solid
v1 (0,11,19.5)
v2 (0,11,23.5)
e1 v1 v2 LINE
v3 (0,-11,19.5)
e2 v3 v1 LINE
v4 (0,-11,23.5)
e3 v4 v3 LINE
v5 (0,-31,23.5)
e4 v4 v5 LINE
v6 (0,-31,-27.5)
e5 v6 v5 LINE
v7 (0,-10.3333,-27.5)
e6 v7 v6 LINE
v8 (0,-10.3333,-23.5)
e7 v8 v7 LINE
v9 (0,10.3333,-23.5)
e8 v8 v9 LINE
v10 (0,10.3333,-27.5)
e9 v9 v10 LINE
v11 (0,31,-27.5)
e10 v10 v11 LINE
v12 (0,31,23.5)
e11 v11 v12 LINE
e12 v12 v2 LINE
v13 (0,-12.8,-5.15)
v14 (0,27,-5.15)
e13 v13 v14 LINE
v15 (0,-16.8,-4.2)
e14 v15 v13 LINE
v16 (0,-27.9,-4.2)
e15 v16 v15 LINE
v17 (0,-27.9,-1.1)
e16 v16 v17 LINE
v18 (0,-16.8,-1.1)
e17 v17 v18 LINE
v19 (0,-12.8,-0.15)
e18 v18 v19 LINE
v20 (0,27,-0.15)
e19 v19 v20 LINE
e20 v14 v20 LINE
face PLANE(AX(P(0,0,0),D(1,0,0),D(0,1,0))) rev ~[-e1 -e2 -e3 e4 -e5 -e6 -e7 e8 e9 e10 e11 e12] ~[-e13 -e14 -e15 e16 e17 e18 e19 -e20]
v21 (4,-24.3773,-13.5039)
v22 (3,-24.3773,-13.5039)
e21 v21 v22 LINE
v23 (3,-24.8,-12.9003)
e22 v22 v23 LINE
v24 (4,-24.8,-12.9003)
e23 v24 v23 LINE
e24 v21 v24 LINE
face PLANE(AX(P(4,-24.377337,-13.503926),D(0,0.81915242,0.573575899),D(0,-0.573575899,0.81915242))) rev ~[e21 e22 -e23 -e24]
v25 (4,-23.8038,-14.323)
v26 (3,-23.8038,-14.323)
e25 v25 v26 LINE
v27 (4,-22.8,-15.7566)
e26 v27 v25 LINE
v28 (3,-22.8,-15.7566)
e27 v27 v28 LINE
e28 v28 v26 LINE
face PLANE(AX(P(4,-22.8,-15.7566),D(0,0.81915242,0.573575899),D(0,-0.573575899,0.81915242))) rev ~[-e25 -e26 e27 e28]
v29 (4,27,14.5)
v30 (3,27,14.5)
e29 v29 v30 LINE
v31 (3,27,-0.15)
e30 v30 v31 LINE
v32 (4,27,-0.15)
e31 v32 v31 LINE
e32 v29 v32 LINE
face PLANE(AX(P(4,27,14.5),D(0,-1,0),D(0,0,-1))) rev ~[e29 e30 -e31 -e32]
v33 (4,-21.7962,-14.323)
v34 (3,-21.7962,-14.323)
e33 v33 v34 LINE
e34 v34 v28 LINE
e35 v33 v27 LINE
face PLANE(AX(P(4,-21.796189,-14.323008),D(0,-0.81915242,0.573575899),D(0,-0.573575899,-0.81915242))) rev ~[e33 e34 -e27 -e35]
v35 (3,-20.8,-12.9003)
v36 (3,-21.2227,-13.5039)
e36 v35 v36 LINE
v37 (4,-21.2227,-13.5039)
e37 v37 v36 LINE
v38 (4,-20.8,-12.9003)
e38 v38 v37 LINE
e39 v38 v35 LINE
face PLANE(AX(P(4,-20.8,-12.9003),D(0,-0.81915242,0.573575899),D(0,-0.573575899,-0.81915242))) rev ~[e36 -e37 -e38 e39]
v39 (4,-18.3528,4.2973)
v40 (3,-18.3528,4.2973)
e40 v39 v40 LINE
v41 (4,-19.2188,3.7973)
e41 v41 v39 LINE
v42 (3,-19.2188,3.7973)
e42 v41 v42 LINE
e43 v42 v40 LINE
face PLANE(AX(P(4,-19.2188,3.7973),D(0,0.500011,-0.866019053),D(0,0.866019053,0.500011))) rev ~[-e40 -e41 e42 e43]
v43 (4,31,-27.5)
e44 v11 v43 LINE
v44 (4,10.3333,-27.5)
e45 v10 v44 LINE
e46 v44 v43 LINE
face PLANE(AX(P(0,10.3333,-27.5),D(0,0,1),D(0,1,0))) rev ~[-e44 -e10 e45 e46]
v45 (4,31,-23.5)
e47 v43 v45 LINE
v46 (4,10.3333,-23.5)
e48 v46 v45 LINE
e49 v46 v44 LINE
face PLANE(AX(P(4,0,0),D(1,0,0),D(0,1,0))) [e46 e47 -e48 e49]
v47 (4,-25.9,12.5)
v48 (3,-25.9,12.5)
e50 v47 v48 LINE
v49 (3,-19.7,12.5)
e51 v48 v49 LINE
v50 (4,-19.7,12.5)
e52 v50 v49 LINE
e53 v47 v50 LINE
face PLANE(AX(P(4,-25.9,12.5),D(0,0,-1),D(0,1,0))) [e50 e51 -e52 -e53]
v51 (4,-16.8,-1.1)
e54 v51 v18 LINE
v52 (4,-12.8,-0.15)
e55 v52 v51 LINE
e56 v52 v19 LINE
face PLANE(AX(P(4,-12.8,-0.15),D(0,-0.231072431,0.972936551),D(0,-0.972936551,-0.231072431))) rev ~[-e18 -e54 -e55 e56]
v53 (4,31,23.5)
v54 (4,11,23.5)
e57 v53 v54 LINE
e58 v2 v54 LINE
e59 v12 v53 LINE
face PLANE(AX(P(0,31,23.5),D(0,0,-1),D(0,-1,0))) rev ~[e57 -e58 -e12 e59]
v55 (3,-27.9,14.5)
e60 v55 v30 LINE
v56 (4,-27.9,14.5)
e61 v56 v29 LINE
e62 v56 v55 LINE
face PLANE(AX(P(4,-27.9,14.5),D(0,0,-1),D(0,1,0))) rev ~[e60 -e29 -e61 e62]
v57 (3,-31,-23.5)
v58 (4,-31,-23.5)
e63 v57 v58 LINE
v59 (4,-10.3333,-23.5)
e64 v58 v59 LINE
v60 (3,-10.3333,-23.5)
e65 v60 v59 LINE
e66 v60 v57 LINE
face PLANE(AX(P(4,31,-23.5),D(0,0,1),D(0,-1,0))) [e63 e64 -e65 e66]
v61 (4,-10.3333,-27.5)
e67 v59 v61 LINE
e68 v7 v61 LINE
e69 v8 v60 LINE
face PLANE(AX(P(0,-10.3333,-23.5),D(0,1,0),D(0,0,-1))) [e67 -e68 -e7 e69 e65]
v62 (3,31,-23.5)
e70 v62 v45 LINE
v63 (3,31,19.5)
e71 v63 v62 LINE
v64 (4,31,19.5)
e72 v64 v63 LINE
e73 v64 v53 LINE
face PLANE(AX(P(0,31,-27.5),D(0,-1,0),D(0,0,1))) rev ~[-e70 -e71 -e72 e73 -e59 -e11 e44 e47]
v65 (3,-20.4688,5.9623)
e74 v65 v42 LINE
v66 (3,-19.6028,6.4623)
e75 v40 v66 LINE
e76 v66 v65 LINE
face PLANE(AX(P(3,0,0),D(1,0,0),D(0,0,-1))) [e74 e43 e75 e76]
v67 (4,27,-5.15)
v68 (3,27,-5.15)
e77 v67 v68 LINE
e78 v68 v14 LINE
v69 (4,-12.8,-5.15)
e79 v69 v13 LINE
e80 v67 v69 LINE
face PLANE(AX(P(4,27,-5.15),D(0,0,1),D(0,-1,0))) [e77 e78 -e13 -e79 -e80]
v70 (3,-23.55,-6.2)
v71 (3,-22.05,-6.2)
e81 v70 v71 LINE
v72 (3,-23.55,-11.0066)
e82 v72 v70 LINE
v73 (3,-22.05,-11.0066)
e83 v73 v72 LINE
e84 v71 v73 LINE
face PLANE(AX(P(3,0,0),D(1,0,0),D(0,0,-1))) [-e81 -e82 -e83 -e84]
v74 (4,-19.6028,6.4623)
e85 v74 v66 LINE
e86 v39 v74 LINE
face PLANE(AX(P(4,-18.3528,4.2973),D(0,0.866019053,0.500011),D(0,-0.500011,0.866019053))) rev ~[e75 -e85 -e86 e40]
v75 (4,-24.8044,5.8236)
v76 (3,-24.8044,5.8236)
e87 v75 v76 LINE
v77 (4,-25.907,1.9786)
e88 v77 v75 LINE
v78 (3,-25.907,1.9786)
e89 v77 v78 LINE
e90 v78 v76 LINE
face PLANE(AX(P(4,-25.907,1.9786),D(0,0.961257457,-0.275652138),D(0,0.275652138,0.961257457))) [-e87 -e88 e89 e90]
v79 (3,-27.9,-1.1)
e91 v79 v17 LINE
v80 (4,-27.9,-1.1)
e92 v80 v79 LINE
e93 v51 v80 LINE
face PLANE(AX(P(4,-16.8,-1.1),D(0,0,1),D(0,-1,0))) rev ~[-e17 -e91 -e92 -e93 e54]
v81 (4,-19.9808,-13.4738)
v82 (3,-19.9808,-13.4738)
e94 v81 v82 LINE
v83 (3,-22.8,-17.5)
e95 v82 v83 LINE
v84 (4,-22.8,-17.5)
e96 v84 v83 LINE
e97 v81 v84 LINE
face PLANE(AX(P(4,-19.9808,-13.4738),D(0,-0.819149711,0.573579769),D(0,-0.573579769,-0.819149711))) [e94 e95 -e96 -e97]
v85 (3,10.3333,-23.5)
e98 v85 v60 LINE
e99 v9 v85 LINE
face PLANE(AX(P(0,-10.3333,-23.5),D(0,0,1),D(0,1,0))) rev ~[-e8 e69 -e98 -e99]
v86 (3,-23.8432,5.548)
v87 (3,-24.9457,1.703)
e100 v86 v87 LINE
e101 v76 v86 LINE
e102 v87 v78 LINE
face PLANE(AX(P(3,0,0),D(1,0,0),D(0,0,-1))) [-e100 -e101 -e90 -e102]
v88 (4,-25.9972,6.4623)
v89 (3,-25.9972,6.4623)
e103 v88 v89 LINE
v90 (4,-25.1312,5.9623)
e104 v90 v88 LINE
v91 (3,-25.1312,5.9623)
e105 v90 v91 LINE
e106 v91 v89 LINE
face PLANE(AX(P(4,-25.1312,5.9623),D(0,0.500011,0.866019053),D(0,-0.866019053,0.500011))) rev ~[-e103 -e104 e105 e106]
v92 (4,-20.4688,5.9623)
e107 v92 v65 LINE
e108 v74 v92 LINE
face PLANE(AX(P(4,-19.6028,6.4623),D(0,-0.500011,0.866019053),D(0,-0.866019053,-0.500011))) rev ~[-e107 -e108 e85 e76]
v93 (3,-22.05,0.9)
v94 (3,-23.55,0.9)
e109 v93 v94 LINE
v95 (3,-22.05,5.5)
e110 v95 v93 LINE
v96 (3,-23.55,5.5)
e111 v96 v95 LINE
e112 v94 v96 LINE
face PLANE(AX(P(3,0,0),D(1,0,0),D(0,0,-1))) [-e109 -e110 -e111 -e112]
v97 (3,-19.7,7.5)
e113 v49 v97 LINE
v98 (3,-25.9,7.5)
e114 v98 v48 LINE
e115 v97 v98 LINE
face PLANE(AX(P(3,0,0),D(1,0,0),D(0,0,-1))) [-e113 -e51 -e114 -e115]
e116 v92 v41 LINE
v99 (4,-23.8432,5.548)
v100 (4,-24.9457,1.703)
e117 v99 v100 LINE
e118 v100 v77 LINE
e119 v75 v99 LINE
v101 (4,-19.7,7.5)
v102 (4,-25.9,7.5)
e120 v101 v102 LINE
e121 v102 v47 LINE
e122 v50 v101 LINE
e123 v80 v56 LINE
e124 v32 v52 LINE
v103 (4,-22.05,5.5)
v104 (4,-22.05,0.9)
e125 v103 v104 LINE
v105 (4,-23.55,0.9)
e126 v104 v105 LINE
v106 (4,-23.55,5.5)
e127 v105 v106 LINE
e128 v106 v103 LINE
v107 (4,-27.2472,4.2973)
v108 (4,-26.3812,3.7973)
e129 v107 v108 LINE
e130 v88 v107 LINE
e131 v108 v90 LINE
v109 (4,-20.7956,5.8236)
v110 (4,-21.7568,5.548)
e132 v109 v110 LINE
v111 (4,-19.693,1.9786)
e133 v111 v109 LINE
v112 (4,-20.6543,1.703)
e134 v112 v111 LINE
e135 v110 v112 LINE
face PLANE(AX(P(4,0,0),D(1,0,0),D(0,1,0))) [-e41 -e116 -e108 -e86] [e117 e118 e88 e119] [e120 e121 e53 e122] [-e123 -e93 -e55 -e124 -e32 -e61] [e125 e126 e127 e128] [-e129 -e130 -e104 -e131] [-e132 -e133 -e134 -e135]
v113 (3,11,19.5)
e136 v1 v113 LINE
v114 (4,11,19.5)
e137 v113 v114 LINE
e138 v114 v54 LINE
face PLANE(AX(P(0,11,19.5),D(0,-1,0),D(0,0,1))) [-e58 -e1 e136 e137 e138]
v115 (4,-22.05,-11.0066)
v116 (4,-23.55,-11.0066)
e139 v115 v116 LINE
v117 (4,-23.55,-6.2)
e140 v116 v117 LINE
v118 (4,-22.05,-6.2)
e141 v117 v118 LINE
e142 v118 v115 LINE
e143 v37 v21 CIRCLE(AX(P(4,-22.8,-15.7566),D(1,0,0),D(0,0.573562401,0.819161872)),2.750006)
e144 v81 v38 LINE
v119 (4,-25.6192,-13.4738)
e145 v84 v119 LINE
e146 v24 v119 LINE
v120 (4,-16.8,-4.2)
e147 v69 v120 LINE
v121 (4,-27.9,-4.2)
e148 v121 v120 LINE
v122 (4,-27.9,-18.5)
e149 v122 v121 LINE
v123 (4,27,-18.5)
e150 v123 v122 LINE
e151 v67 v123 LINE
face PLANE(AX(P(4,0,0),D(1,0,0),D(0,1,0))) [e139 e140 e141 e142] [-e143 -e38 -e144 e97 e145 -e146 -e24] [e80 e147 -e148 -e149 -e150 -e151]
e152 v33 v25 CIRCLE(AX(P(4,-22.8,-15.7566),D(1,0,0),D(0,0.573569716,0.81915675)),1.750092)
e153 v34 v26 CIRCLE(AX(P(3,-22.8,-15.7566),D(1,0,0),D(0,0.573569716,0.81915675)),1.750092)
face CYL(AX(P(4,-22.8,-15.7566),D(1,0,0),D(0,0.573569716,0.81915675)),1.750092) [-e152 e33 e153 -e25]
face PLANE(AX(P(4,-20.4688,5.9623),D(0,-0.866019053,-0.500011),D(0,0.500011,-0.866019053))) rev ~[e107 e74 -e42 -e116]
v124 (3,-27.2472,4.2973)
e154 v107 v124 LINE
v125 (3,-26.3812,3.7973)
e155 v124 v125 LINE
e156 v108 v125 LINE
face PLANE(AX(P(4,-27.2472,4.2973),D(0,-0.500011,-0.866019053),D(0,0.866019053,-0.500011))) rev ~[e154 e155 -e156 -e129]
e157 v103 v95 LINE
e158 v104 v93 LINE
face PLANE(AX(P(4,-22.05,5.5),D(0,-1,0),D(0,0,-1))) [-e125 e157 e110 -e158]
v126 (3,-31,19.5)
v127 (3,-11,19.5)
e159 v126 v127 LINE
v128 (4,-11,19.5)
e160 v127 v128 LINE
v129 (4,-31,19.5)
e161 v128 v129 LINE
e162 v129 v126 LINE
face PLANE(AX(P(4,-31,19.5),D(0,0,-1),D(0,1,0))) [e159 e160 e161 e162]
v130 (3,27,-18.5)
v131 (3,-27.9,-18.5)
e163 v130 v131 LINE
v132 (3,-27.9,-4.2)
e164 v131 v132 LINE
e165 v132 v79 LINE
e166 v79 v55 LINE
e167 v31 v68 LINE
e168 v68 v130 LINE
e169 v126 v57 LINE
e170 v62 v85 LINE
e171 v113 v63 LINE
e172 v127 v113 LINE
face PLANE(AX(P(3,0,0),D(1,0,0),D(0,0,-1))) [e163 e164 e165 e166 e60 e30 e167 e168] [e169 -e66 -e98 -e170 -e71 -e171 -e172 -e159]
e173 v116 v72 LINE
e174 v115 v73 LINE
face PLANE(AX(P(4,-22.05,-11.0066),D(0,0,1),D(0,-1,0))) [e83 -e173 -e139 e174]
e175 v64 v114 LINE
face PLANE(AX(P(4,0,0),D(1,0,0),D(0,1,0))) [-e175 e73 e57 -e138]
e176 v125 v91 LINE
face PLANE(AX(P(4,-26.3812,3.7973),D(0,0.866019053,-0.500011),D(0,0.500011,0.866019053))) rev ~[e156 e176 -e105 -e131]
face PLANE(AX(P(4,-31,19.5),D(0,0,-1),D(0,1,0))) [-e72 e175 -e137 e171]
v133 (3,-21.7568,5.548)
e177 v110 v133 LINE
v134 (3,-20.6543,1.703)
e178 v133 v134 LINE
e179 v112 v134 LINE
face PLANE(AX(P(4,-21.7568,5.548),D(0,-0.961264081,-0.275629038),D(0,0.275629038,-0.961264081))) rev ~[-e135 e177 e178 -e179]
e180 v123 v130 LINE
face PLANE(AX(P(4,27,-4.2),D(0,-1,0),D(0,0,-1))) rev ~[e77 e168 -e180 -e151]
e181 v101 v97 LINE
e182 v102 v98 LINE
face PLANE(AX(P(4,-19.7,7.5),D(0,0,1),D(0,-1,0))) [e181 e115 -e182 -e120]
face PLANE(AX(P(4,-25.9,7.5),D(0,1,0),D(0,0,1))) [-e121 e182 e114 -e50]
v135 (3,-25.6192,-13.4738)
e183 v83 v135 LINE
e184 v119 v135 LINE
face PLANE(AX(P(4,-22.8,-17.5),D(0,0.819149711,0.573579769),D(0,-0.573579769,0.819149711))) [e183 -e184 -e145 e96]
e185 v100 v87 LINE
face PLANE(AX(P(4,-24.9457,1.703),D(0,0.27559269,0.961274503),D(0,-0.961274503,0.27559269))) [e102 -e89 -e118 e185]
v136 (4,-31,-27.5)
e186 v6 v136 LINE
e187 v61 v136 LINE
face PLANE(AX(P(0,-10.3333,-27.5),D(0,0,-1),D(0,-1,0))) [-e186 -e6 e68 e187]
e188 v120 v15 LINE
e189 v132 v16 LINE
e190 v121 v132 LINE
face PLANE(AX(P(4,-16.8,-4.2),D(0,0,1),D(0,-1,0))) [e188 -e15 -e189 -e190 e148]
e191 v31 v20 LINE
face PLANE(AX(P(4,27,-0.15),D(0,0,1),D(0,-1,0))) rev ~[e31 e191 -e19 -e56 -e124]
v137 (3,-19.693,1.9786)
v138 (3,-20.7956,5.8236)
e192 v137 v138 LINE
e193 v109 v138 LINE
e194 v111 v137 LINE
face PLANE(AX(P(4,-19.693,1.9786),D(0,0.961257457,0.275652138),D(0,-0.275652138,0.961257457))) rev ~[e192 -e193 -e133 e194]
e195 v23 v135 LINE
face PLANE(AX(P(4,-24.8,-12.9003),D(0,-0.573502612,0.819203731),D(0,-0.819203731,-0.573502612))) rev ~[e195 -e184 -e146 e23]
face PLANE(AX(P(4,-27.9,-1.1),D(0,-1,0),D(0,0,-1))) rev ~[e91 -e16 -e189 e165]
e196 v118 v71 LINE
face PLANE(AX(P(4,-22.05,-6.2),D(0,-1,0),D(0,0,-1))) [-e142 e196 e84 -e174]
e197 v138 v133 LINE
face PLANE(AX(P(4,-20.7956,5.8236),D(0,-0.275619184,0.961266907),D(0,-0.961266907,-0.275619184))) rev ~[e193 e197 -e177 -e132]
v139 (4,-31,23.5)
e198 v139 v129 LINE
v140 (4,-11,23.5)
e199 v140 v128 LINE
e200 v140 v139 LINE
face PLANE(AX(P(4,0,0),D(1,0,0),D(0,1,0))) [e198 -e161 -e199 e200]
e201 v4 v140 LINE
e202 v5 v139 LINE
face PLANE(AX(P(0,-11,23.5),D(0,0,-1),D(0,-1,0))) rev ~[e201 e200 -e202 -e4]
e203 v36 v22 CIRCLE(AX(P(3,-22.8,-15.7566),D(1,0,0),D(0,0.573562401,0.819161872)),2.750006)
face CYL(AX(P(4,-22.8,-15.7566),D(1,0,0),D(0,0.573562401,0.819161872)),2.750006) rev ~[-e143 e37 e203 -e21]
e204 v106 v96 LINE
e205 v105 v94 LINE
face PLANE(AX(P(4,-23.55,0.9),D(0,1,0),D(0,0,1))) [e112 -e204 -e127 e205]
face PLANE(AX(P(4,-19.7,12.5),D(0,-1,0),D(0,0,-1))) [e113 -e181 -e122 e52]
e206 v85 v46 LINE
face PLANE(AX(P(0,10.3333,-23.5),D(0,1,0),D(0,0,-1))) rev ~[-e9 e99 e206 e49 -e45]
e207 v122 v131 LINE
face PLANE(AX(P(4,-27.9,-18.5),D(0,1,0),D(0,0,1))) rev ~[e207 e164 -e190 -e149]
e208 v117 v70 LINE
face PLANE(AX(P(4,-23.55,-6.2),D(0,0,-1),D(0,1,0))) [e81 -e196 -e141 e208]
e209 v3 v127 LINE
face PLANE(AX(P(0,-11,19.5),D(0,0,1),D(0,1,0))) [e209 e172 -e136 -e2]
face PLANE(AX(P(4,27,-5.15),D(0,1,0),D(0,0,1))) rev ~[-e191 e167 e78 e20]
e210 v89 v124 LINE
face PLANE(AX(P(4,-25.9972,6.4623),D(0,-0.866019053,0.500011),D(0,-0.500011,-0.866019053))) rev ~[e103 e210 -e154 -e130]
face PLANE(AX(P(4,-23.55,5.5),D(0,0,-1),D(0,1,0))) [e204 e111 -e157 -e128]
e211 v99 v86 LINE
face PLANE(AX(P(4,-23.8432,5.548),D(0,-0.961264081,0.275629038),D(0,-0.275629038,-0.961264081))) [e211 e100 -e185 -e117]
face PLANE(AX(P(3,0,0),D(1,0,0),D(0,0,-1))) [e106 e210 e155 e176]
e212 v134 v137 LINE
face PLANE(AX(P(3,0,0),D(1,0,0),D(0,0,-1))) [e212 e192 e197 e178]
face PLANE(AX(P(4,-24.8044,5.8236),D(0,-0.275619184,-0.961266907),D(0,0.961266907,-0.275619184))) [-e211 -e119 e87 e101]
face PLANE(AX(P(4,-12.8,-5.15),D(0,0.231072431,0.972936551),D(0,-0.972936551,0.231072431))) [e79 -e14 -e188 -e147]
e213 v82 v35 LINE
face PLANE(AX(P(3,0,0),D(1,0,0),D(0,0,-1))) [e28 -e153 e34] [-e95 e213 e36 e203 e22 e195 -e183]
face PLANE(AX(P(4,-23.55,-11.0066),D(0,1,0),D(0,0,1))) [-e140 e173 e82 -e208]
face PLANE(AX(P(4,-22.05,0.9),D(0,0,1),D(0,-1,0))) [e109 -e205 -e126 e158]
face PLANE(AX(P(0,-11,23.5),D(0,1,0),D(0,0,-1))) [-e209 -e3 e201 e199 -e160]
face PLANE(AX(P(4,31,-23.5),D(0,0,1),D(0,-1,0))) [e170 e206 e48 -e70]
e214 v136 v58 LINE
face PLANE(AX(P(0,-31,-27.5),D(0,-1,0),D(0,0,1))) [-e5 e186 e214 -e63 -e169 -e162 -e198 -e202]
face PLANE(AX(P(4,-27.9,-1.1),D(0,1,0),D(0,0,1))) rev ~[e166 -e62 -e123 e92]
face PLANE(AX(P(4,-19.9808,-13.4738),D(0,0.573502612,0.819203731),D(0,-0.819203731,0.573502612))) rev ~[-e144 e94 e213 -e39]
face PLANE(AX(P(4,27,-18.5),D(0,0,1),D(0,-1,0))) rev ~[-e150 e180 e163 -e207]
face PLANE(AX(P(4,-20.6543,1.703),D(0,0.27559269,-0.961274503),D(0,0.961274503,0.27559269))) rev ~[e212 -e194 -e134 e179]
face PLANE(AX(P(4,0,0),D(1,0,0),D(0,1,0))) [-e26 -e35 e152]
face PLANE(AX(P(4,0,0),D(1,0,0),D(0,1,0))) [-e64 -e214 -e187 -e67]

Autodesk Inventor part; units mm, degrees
ref_plane "YZ Plane" through (0, 0, 0) normal (1, 0, 0) x (0, 1, 0)
ref_plane "XZ Plane" through (0, 0, 0) normal (0, 1, 0) x (-1, 0, 0)
ref_plane "XY Plane" through (0, 0, 0) normal (0, 0, 1) x (1, 0, 0)
sketch "Sketch1" plane through (0, 0, 0) normal (1, 0, 0) x (0, 1, 0)
  line L0 (-31, -23.5) -> (-10.3333, -23.5) construction
  line L1 (31, -23.5) -> (31, 23.5)
  line L2 (31, 23.5) -> (11, 23.5)
  line L3 (-31, 23.5) -> (-31, -23.5)
  line L4 (-31, -23.5) -> (31, 23.5) construction
  line L5 (31, -23.5) -> (-31, 23.5) construction
  line L6 (-11, 23.5) -> (-11, 19.5)
  line L7 (-11, 19.5) -> (11, 19.5)
  line L8 (11, 19.5) -> (11, 23.5)
  line L9 (11, 23.5) -> (-11, 23.5) construction
  line L10 (-11, 23.5) -> (-31, 23.5)
  line L11 (31, -23.5) -> (10.3333, -23.5) construction
  line L12 (10.3333, -23.5) -> (10.3333, -27.5)
  line L13 (10.3333, -27.5) -> (31, -27.5)
  line L14 (31, -27.5) -> (31, -23.5)
  line L15 (-31, -23.5) -> (-10.3333, -23.5) construction
  line L16 (-10.3333, -23.5) -> (-10.3333, -27.5)
  line L17 (-10.3333, -27.5) -> (-31, -27.5)
  line L18 (-31, -27.5) -> (-31, -23.5)
  line L19 (10.3333, -23.5) -> (31, -23.5) construction
  line L20 (-10.3333, -23.5) -> (10.3333, -23.5)
  point P0 (0, 0)
  point P1 (11, 21.5)
  dimension "d0" = 62
  dimension "d1" = 47
  dimension "d2" = 20
  dimension "d3" = 4
  dimension "d5" = 4
extrude "Outline" add sketch "Sketch1" along normal blind 4
sketch "Sketch2" plane through (4, 0, 0) normal (1, 0, 0) x (0, 0, -1)
  line L0 (1.1, 27) -> (1.1, -27.9)
  line L1 (1.1, -27.9) -> (4.2, -27.9)
  line L2 (4.2, -27.9) -> (4.2, 27)
  line L3 (4.2, 27) -> (1.1, 27)
  line L4 (-14.5, -0.45) -> (-6.7, -0.45) construction
  line L5 (-6.7, -0.45) -> (1.1, -0.45) construction
  line L6 (18.5, -0.45) -> (4.2, -0.45) construction
  line L7 (-19.5, 31) -> (23.5, 31)
  line L8 (23.5, 31) -> (23.5, -31)
  line L9 (-19.5, -31) -> (-19.5, 31)
  line L10 (-14.5, 27) -> (18.5, 27)
  line L11 (18.5, 27) -> (18.5, -27.9)
  line L12 (18.5, -27.9) -> (-14.5, -27.9)
  line L13 (-14.5, -27.9) -> (-14.5, 27)
  line L14 (-12.5, -19.7) -> (-7.5, -19.7)
  line L15 (-7.5, -19.7) -> (-7.5, -25.9)
  line L16 (-7.5, -25.9) -> (-12.5, -25.9)
  line L17 (-12.5, -25.9) -> (-12.5, -19.7)
  line L18 (-5.5, -22.05) -> (-0.9, -22.05)
  line L19 (-0.9, -22.05) -> (-0.9, -23.55)
  line L20 (-0.9, -23.55) -> (-5.5, -23.55)
  line L21 (-5.5, -23.55) -> (-5.5, -22.05)
  line L22 (13.4738, -19.9808) -> (17.5, -22.8)
  line L23 (17.5, -22.8) -> (13.4738, -25.6192)
  line L24 (13.4738, -19.9808) -> (12.9003, -20.8)
  line L25 (12.9003, -20.8) -> (15.7566, -22.8)
  line L26 (15.7566, -22.8) -> (12.9003, -24.8)
  line L27 (12.9003, -24.8) -> (13.4738, -25.6192)
  line L28 (-12.5, -22.8) -> (15.7566, -22.8) construction
  arc A0 (13.5039, -21.2227) -> (13.5039, -24.3773) centre (15.7566, -22.8) ccw
  arc A1 (14.323, -21.7962) -> (14.323, -23.8038) centre (15.7566, -22.8) ccw
  line L29 (6.2, -22.05) -> (11.0066, -22.05)
  line L30 (11.0066, -22.05) -> (11.0066, -23.55)
  line L31 (11.0066, -23.55) -> (6.2, -23.55)
  line L32 (6.2, -23.55) -> (6.2, -22.05)
  line L33 (-5.8236, -20.7956) -> (-5.548, -21.7568)
  line L34 (-5.548, -21.7568) -> (-1.703, -20.6543)
  line L35 (-1.703, -20.6543) -> (-1.9786, -19.693)
  line L36 (-1.9786, -19.693) -> (-5.8236, -20.7956)
  line L37 (-5.548, -23.8432) -> (-1.703, -24.9457)
  line L38 (-1.703, -24.9457) -> (-1.9786, -25.907)
  line L39 (-1.9786, -25.907) -> (-5.8236, -24.8044)
  line L40 (-5.8236, -24.8044) -> (-5.548, -23.8432)
  circle A2 centre (-11, -22.8) radius 5.5509 construction
  line L41 (-6.4623, -19.6028) -> (-5.9623, -20.4688)
  line L42 (-5.9623, -20.4688) -> (-3.7973, -19.2188)
  line L43 (-3.7973, -19.2188) -> (-4.2973, -18.3528)
  line L44 (-4.2973, -18.3528) -> (-6.4623, -19.6028)
  line L45 (-5.9623, -25.1312) -> (-6.4623, -25.9972)
  line L46 (-6.4623, -25.9972) -> (-4.2973, -27.2472)
  line L47 (-4.2973, -27.2472) -> (-3.7973, -26.3812)
  line L48 (-3.7973, -26.3812) -> (-5.9623, -25.1312)
  line L49 (23.5, 10.3333) -> (27.5, 10.3333) projected
  line L50 (27.5, 10.3333) -> (27.5, 31) projected
  line L51 (27.5, 31) -> (-23.5, 31) projected
  line L52 (-23.5, 31) -> (-23.5, 11) projected
  line L53 (-23.5, 11) -> (-19.5, 11) projected
  line L54 (-19.5, 11) -> (-19.5, -11) projected
  line L55 (-19.5, -11) -> (-23.5, -11) projected
  line L56 (-23.5, -11) -> (-23.5, -31) projected
  line L57 (-23.5, -31) -> (27.5, -31) projected
  line L58 (27.5, -31) -> (27.5, -10.3333) projected
  line L59 (27.5, -10.3333) -> (23.5, -10.3333) projected
  line L60 (23.5, -10.3333) -> (23.5, 10.3333) projected
  point P0 (0, 0)
  point P1 (-7.5, -22.8)
  point P2 (-5.5, -22.8)
  point P3 (13.0066, -22.8)
  point P4 (4.2, -27.9)
  dimension "d14" = 3.1
  dimension "d17" = 5
  dimension "d19" = 5
  dimension "d22" = 35
  dimension "d23" = 35
  dimension "d24" = 4
  dimension "d25" = 1
  dimension "d26" = 1
  dimension "d27" = 2.75
  dimension "d29" = 1
  dimension "d30" = 1.5
  dimension "d31" = 2
  dimension "d32" = 2
  dimension "d33" = 2
  dimension "d34" = 2
  dimension "d35" = 2
  dimension "d36" = 5
  dimension "d37" = 2
  dimension "d38" = 1
  dimension "d39" = 1
  dimension "d42" = 3.5
  dimension "d43" = 16
  dimension "d44" = 16
  dimension "d45" = 4
  dimension "d47" = 2.5
  dimension "d48" = 1
  dimension "d49" = 14
  dimension "d50" = 14
  dimension "d51" = 1
  dimension "d52" = 2.5
  dimension "d62" = 14.3
  dimension "d65" = 6.2
  dimension "d66" = 4
  dimension "d67" = 3.1
extrude "Engravings" cut sketch "Sketch2" against normal blind 1 contours L3 L2 L1 L0 | L7 L8 L57 L9 | L14 L15 L16 L17 | L18 L19 L20 L21 | L22 L23 L27 L26 L25 L24 | L25 A1 L26 A0 | L29 L30 L31 L32 | L36 L35 L34 L33 | L37 L38 L39 L40 | L44 L43 L42 L41 | L48 L47 L46 L45
sketch "Sketch3" plane through (4, 0, 0) normal (1, 0, 0) x (0, 0, -1)
  line L0 (-7.5, -19.7) -> (-7.5, -25.9) projected
  line L1 (-7.5, -25.9) -> (-12.5, -25.9) projected
  line L2 (-12.5, -25.9) -> (-12.5, -19.7) projected
  line L3 (-12.5, -19.7) -> (-7.5, -19.7) projected
  line L4 (-3.7973, -26.3812) -> (-4.2973, -27.2472) projected
  line L5 (-4.2973, -27.2472) -> (-6.4623, -25.9972) projected
  line L6 (-6.4623, -25.9972) -> (-5.9623, -25.1312) projected
  line L7 (-5.9623, -25.1312) -> (-3.7973, -26.3812) projected
  line L8 (-0.9, -22.05) -> (-0.9, -23.55)
  line L9 (-0.9, -23.55) -> (-5.5, -23.55) projected
  line L10 (-5.5, -23.55) -> (-5.5, -22.05) projected
  line L11 (-5.5, -22.05) -> (-0.9, -22.05) projected
  line L12 (-4.2973, -18.3528) -> (-3.7973, -19.2188) projected
  line L13 (-3.7973, -19.2188) -> (-5.9623, -20.4688) projected
  line L14 (-5.9623, -20.4688) -> (-6.4623, -19.6028) projected
  line L15 (-6.4623, -19.6028) -> (-4.2973, -18.3528) projected
  line L16 (-1.9786, -19.693) -> (-1.703, -20.6543) projected
  line L17 (-1.703, -20.6543) -> (-5.548, -21.7568) projected
  line L18 (-5.548, -21.7568) -> (-5.8236, -20.7956) projected
  line L19 (-5.8236, -20.7956) -> (-1.9786, -19.693) projected
  line L20 (-1.703, -24.9457) -> (-1.9786, -25.907) projected
  line L21 (-1.9786, -25.907) -> (-5.8236, -24.8044) projected
  line L22 (-5.8236, -24.8044) -> (-5.548, -23.8432) projected
  line L23 (-5.548, -23.8432) -> (-1.703, -24.9457) projected
  line L24 (23.5, -31) -> (-19.5, -31) projected
  line L25 (23.5, 31) -> (23.5, 10.3333) projected
  line L26 (-19.5, 31) -> (23.5, 31) projected
  line L27 (-19.5, -11) -> (-19.5, 11) projected
  line L28 (18.5, -27.9) -> (18.5, 27) projected
  line L29 (-14.5, 27) -> (-14.5, -27.9) projected
  line L30 (1.1, -27.9) -> (4.2, -27.9)
  line L31 (0.15, 27) -> (0.15, -12.8)
  line L32 (0.15, -12.8) -> (1.1, -16.8)
  line L33 (5.15, 27) -> (5.15, -12.8)
  line L34 (5.15, -12.8) -> (4.2, -16.8)
  line L35 (4.2, -16.8) -> (4.2, -27.9)
  line L36 (-19.5, -31) -> (-19.5, -11) projected
  line L37 (23.5, 10.3333) -> (23.5, -10.3333) projected
  line L38 (-19.5, 11) -> (-19.5, 31) projected
  line L39 (23.5, -10.3333) -> (27.5, -10.3333) projected
  line L40 (27.5, -10.3333) -> (27.5, -31) projected
  line L41 (-14.5, -27.9) -> (18.5, -27.9) projected
  line L42 (1.1, -27.9) -> (1.1, 27) construction
  line L43 (4.2, 27) -> (4.2, -27.9) construction
  line L44 (18.5, 27) -> (4.2, 27) projected
  line L45 (1.1, 27) -> (-14.5, 27) projected
  line L46 (1.1, 27) -> (4.2, 27)
  line L47 (1.1, -27.9) -> (1.1, 27) construction
  line L48 (1.1, -16.8) -> (1.1, -27.9)
  point P0 (0, 0)
  dimension "d68" = 5
  dimension "d69" = 11.1
  dimension "d70" = 4
extrude "Groove" cut sketch "Sketch3" against normal up to next contours L30 L48 L32 L31 L45 L46 L44 L33 L34 L35
sketch "Sketch4" plane through (3, 0, 0) normal (1, 0, 0) x (0, 0, -1)
  line L0 (-7.5, -25.9) -> (-7.5, -19.7) projected
  line L1 (-7.5, -19.7) -> (-12.5, -19.7) projected
  line L2 (-12.5, -19.7) -> (-12.5, -25.9) projected
  line L3 (-12.5, -25.9) -> (-7.5, -25.9) projected
  line L4 (-4.2973, -27.2472) -> (-3.7973, -26.3812) projected
  line L5 (-3.7973, -26.3812) -> (-5.9623, -25.1312) projected
  line L6 (-5.9623, -25.1312) -> (-6.4623, -25.9972) projected
  line L7 (-6.4623, -25.9972) -> (-4.2973, -27.2472) projected
  line L8 (14.323, -21.7962) -> (15.7566, -22.8) projected
  line L9 (15.7566, -22.8) -> (14.323, -23.8038) projected
  arc A0 (14.323, -21.7962) -> (14.323, -23.8038) centre (15.7566, -22.8) ccw projected
  line L10 (13.4738, -25.6192) -> (17.5, -22.8) projected
  line L11 (17.5, -22.8) -> (13.4738, -19.9808) projected
  line L12 (13.4738, -19.9808) -> (12.9003, -20.8) projected
  line L13 (12.9003, -20.8) -> (13.5039, -21.2227) projected
  arc A1 (13.5039, -21.2227) -> (13.5039, -24.3773) centre (15.7566, -22.8) ccw projected
  line L14 (13.5039, -24.3773) -> (12.9003, -24.8) projected
  line L15 (12.9003, -24.8) -> (13.4738, -25.6192) projected
  line L16 (-0.9, -23.55) -> (-0.9, -22.05) projected
  line L17 (-0.9, -22.05) -> (-5.5, -22.05) projected
  line L18 (-5.5, -22.05) -> (-5.5, -23.55) projected
  line L19 (-5.5, -23.55) -> (-0.9, -23.55) projected
  line L20 (27.5, 10.3333) -> (23.5, 10.3333) projected
  line L21 (27.5, 31) -> (27.5, 10.3333) projected
  line L22 (-23.5, 31) -> (-19.5, 31) projected
  line L23 (-19.5, -31) -> (-23.5, -31) projected
  line L24 (-23.5, 11) -> (-23.5, 31) projected
  line L25 (-19.5, 11) -> (-23.5, 11) projected
  line L26 (-23.5, -31) -> (-23.5, -11) projected
  line L27 (-23.5, -11) -> (-19.5, -11) projected
  line L28 (-3.7973, -19.2188) -> (-4.2973, -18.3528) projected
  line L29 (-4.2973, -18.3528) -> (-6.4623, -19.6028) projected
  line L30 (-6.4623, -19.6028) -> (-5.9623, -20.4688) projected
  line L31 (-5.9623, -20.4688) -> (-3.7973, -19.2188) projected
  line L32 (11.0066, -23.55) -> (11.0066, -22.05) projected
  line L33 (11.0066, -22.05) -> (6.2, -22.05) projected
  line L34 (6.2, -22.05) -> (6.2, -23.55) projected
  line L35 (6.2, -23.55) -> (11.0066, -23.55) projected
  line L36 (-1.703, -20.6543) -> (-1.9786, -19.693) projected
  line L37 (-1.9786, -19.693) -> (-5.8236, -20.7956) projected
  line L38 (-5.8236, -20.7956) -> (-5.548, -21.7568) projected
  line L39 (-5.548, -21.7568) -> (-1.703, -20.6543) projected
  line L40 (-1.9786, -25.907) -> (-1.703, -24.9457) projected
  line L41 (-1.703, -24.9457) -> (-5.548, -23.8432) projected
  line L42 (-5.548, -23.8432) -> (-5.8236, -24.8044) projected
  line L43 (-5.8236, -24.8044) -> (-1.9786, -25.907) projected
  line L44 (18.5, 27) -> (18.5, -27.9) projected
  line L45 (-14.5, -27.9) -> (-14.5, 27) projected
  line L46 (1.1, -27.9) -> (-14.5, -27.9) projected
  line L47 (23.5, -31) -> (-19.5, -31) projected
  line L48 (-19.5, -11) -> (-19.5, -31) projected
  line L49 (-19.5, -11) -> (-19.5, 11) projected
  line L50 (-19.5, 31) -> (-19.5, 11) projected
  line L51 (-19.5, 31) -> (23.5, 31) projected
  line L52 (23.5, 10.3333) -> (23.5, 31) projected
  line L53 (23.5, 10.3333) -> (23.5, -10.3333) projected
  line L54 (23.5, 31) -> (27.5, 31) projected
  line L55 (-14.5, 27) -> (0.15, 27) projected
  line L56 (5.15, 27) -> (18.5, 27) projected
  line L57 (18.5, -27.9) -> (4.2, -27.9) projected
  line L58 (5.15, 27) -> (0.15, 27) projected
  line L59 (5.15, -12.8) -> (5.15, 27) projected
  line L60 (4.2, -16.8) -> (5.15, -12.8) projected
  line L61 (4.2, -27.9) -> (4.2, -16.8) projected
  line L62 (1.1, -16.8) -> (1.1, -27.9) projected
  line L63 (0.15, -12.8) -> (1.1, -16.8) projected
  line L64 (0.15, 27) -> (0.15, -12.8) projected
  line L65 (1.1, -27.9) -> (4.2, -27.9) projected
  line L66 (23.5, -31) -> (23.5, -10.3333) projected
  line L67 (27.5, -31) -> (23.5, -31) projected
  line L68 (27.5, -10.3333) -> (27.5, -31) projected
  line L69 (23.5, -10.3333) -> (27.5, -10.3333) projected
  point P0 (0, 0)
sketch "Sketch5" plane through (3, 0, 0) normal (1, 0, 0) x (0, 0, -1)
  line L0 (-1.9786, -25.907) -> (-1.703, -24.9457) projected
  line L1 (-1.703, -24.9457) -> (-5.548, -23.8432) projected
  line L2 (-5.548, -23.8432) -> (-5.8236, -24.8044) projected
  line L3 (-5.8236, -24.8044) -> (-1.9786, -25.907) projected
  line L4 (-7.5, -25.9) -> (-7.5, -19.7) projected
  line L5 (-7.5, -19.7) -> (-12.5, -19.7) projected
  line L6 (-12.5, -19.7) -> (-12.5, -25.9) projected
  line L7 (-12.5, -25.9) -> (-7.5, -25.9) projected
  line L8 (-0.9, -23.55) -> (-0.9, -22.05) projected
  line L9 (-0.9, -22.05) -> (-5.5, -22.05) projected
  line L10 (-5.5, -22.05) -> (-5.5, -23.55) projected
  line L11 (-5.5, -23.55) -> (-0.9, -23.55) projected
  line L12 (-4.2973, -27.2472) -> (-3.7973, -26.3812) projected
  line L13 (-3.7973, -26.3812) -> (-5.9623, -25.1312) projected
  line L14 (-5.9623, -25.1312) -> (-6.4623, -25.9972) projected
  line L15 (-6.4623, -25.9972) -> (-4.2973, -27.2472) projected
  line L16 (-14.5, -27.9) -> (-14.5, 27) projected
  line L17 (-14.5, 27) -> (0.15, 27) projected
  line L18 (5.15, 27) -> (0.15, 27) projected
  line L19 (5.15, -12.8) -> (5.15, 27) projected
  line L20 (4.2, -16.8) -> (5.15, -12.8) projected
  line L21 (4.2, -27.9) -> (4.2, -16.8) projected
  line L22 (1.1, -27.9) -> (4.2, -27.9) projected
  line L23 (1.1, -16.8) -> (1.1, -27.9) projected
  line L24 (0.15, -12.8) -> (1.1, -16.8) projected
  line L25 (0.15, 27) -> (0.15, -12.8) projected
  line L26 (1.1, -27.9) -> (-14.5, -27.9) projected
  line L27 (5.15, 27) -> (18.5, 27) projected
  line L28 (18.5, 27) -> (18.5, -27.9) projected
  line L29 (18.5, -27.9) -> (4.2, -27.9) projected
  line L30 (23.5, -31) -> (23.5, -10.3333) projected
  line L31 (23.5, 10.3333) -> (23.5, -10.3333) projected
  line L32 (23.5, 10.3333) -> (23.5, 31) projected
  line L33 (-19.5, 31) -> (23.5, 31) projected
  line L34 (-19.5, 31) -> (-19.5, 11) projected
  line L35 (-19.5, -11) -> (-19.5, 11) projected
  line L36 (-19.5, -11) -> (-19.5, -31) projected
  line L37 (23.5, -31) -> (-19.5, -31) projected
  line L38 (27.5, -31) -> (23.5, -31) projected
  line L39 (27.5, -10.3333) -> (27.5, -31) projected
  line L40 (23.5, -10.3333) -> (27.5, -10.3333) projected
  line L41 (27.5, 10.3333) -> (23.5, 10.3333) projected
  line L42 (27.5, 31) -> (27.5, 10.3333) projected
  line L43 (23.5, 31) -> (27.5, 31) projected
  line L44 (-23.5, 31) -> (-19.5, 31) projected
  line L45 (-23.5, 11) -> (-23.5, 31) projected
  line L46 (-19.5, 11) -> (-23.5, 11) projected
  line L47 (-23.5, -11) -> (-19.5, -11) projected
  line L48 (-23.5, -31) -> (-23.5, -11) projected
  line L49 (-19.5, -31) -> (-23.5, -31) projected
  line L50 (-1.703, -20.6543) -> (-1.9786, -19.693) projected
  line L51 (-1.9786, -19.693) -> (-5.8236, -20.7956) projected
  line L52 (-5.8236, -20.7956) -> (-5.548, -21.7568) projected
  line L53 (-5.548, -21.7568) -> (-1.703, -20.6543) projected
  line L54 (14.323, -21.7962) -> (15.7566, -22.8) projected
  line L55 (15.7566, -22.8) -> (14.323, -23.8038) projected
  arc A0 (14.323, -21.7962) -> (14.323, -23.8038) centre (15.7566, -22.8) ccw projected
  line L56 (13.4738, -25.6192) -> (17.5, -22.8) projected
  line L57 (17.5, -22.8) -> (13.4738, -19.9808) projected
  line L58 (13.4738, -19.9808) -> (12.9003, -20.8) projected
  line L59 (12.9003, -20.8) -> (13.5039, -21.2227) projected
  arc A1 (13.5039, -21.2227) -> (13.5039, -24.3773) centre (15.7566, -22.8) ccw projected
  line L60 (13.5039, -24.3773) -> (12.9003, -24.8) projected
  line L61 (12.9003, -24.8) -> (13.4738, -25.6192) projected
  line L62 (11.0066, -23.55) -> (11.0066, -22.05) projected
  line L63 (11.0066, -22.05) -> (6.2, -22.05) projected
  line L64 (6.2, -22.05) -> (6.2, -23.55) projected
  line L65 (6.2, -23.55) -> (11.0066, -23.55) projected
  line L66 (-3.7973, -19.2188) -> (-4.2973, -18.3528) projected
  line L67 (-4.2973, -18.3528) -> (-6.4623, -19.6028) projected
  line L68 (-6.4623, -19.6028) -> (-5.9623, -20.4688) projected
  line L69 (-5.9623, -20.4688) -> (-3.7973, -19.2188) projected
  point P0 (0, 0)
properties part number "LightGate_Door_V1" material "MDF Medium Density Fiberboard"
